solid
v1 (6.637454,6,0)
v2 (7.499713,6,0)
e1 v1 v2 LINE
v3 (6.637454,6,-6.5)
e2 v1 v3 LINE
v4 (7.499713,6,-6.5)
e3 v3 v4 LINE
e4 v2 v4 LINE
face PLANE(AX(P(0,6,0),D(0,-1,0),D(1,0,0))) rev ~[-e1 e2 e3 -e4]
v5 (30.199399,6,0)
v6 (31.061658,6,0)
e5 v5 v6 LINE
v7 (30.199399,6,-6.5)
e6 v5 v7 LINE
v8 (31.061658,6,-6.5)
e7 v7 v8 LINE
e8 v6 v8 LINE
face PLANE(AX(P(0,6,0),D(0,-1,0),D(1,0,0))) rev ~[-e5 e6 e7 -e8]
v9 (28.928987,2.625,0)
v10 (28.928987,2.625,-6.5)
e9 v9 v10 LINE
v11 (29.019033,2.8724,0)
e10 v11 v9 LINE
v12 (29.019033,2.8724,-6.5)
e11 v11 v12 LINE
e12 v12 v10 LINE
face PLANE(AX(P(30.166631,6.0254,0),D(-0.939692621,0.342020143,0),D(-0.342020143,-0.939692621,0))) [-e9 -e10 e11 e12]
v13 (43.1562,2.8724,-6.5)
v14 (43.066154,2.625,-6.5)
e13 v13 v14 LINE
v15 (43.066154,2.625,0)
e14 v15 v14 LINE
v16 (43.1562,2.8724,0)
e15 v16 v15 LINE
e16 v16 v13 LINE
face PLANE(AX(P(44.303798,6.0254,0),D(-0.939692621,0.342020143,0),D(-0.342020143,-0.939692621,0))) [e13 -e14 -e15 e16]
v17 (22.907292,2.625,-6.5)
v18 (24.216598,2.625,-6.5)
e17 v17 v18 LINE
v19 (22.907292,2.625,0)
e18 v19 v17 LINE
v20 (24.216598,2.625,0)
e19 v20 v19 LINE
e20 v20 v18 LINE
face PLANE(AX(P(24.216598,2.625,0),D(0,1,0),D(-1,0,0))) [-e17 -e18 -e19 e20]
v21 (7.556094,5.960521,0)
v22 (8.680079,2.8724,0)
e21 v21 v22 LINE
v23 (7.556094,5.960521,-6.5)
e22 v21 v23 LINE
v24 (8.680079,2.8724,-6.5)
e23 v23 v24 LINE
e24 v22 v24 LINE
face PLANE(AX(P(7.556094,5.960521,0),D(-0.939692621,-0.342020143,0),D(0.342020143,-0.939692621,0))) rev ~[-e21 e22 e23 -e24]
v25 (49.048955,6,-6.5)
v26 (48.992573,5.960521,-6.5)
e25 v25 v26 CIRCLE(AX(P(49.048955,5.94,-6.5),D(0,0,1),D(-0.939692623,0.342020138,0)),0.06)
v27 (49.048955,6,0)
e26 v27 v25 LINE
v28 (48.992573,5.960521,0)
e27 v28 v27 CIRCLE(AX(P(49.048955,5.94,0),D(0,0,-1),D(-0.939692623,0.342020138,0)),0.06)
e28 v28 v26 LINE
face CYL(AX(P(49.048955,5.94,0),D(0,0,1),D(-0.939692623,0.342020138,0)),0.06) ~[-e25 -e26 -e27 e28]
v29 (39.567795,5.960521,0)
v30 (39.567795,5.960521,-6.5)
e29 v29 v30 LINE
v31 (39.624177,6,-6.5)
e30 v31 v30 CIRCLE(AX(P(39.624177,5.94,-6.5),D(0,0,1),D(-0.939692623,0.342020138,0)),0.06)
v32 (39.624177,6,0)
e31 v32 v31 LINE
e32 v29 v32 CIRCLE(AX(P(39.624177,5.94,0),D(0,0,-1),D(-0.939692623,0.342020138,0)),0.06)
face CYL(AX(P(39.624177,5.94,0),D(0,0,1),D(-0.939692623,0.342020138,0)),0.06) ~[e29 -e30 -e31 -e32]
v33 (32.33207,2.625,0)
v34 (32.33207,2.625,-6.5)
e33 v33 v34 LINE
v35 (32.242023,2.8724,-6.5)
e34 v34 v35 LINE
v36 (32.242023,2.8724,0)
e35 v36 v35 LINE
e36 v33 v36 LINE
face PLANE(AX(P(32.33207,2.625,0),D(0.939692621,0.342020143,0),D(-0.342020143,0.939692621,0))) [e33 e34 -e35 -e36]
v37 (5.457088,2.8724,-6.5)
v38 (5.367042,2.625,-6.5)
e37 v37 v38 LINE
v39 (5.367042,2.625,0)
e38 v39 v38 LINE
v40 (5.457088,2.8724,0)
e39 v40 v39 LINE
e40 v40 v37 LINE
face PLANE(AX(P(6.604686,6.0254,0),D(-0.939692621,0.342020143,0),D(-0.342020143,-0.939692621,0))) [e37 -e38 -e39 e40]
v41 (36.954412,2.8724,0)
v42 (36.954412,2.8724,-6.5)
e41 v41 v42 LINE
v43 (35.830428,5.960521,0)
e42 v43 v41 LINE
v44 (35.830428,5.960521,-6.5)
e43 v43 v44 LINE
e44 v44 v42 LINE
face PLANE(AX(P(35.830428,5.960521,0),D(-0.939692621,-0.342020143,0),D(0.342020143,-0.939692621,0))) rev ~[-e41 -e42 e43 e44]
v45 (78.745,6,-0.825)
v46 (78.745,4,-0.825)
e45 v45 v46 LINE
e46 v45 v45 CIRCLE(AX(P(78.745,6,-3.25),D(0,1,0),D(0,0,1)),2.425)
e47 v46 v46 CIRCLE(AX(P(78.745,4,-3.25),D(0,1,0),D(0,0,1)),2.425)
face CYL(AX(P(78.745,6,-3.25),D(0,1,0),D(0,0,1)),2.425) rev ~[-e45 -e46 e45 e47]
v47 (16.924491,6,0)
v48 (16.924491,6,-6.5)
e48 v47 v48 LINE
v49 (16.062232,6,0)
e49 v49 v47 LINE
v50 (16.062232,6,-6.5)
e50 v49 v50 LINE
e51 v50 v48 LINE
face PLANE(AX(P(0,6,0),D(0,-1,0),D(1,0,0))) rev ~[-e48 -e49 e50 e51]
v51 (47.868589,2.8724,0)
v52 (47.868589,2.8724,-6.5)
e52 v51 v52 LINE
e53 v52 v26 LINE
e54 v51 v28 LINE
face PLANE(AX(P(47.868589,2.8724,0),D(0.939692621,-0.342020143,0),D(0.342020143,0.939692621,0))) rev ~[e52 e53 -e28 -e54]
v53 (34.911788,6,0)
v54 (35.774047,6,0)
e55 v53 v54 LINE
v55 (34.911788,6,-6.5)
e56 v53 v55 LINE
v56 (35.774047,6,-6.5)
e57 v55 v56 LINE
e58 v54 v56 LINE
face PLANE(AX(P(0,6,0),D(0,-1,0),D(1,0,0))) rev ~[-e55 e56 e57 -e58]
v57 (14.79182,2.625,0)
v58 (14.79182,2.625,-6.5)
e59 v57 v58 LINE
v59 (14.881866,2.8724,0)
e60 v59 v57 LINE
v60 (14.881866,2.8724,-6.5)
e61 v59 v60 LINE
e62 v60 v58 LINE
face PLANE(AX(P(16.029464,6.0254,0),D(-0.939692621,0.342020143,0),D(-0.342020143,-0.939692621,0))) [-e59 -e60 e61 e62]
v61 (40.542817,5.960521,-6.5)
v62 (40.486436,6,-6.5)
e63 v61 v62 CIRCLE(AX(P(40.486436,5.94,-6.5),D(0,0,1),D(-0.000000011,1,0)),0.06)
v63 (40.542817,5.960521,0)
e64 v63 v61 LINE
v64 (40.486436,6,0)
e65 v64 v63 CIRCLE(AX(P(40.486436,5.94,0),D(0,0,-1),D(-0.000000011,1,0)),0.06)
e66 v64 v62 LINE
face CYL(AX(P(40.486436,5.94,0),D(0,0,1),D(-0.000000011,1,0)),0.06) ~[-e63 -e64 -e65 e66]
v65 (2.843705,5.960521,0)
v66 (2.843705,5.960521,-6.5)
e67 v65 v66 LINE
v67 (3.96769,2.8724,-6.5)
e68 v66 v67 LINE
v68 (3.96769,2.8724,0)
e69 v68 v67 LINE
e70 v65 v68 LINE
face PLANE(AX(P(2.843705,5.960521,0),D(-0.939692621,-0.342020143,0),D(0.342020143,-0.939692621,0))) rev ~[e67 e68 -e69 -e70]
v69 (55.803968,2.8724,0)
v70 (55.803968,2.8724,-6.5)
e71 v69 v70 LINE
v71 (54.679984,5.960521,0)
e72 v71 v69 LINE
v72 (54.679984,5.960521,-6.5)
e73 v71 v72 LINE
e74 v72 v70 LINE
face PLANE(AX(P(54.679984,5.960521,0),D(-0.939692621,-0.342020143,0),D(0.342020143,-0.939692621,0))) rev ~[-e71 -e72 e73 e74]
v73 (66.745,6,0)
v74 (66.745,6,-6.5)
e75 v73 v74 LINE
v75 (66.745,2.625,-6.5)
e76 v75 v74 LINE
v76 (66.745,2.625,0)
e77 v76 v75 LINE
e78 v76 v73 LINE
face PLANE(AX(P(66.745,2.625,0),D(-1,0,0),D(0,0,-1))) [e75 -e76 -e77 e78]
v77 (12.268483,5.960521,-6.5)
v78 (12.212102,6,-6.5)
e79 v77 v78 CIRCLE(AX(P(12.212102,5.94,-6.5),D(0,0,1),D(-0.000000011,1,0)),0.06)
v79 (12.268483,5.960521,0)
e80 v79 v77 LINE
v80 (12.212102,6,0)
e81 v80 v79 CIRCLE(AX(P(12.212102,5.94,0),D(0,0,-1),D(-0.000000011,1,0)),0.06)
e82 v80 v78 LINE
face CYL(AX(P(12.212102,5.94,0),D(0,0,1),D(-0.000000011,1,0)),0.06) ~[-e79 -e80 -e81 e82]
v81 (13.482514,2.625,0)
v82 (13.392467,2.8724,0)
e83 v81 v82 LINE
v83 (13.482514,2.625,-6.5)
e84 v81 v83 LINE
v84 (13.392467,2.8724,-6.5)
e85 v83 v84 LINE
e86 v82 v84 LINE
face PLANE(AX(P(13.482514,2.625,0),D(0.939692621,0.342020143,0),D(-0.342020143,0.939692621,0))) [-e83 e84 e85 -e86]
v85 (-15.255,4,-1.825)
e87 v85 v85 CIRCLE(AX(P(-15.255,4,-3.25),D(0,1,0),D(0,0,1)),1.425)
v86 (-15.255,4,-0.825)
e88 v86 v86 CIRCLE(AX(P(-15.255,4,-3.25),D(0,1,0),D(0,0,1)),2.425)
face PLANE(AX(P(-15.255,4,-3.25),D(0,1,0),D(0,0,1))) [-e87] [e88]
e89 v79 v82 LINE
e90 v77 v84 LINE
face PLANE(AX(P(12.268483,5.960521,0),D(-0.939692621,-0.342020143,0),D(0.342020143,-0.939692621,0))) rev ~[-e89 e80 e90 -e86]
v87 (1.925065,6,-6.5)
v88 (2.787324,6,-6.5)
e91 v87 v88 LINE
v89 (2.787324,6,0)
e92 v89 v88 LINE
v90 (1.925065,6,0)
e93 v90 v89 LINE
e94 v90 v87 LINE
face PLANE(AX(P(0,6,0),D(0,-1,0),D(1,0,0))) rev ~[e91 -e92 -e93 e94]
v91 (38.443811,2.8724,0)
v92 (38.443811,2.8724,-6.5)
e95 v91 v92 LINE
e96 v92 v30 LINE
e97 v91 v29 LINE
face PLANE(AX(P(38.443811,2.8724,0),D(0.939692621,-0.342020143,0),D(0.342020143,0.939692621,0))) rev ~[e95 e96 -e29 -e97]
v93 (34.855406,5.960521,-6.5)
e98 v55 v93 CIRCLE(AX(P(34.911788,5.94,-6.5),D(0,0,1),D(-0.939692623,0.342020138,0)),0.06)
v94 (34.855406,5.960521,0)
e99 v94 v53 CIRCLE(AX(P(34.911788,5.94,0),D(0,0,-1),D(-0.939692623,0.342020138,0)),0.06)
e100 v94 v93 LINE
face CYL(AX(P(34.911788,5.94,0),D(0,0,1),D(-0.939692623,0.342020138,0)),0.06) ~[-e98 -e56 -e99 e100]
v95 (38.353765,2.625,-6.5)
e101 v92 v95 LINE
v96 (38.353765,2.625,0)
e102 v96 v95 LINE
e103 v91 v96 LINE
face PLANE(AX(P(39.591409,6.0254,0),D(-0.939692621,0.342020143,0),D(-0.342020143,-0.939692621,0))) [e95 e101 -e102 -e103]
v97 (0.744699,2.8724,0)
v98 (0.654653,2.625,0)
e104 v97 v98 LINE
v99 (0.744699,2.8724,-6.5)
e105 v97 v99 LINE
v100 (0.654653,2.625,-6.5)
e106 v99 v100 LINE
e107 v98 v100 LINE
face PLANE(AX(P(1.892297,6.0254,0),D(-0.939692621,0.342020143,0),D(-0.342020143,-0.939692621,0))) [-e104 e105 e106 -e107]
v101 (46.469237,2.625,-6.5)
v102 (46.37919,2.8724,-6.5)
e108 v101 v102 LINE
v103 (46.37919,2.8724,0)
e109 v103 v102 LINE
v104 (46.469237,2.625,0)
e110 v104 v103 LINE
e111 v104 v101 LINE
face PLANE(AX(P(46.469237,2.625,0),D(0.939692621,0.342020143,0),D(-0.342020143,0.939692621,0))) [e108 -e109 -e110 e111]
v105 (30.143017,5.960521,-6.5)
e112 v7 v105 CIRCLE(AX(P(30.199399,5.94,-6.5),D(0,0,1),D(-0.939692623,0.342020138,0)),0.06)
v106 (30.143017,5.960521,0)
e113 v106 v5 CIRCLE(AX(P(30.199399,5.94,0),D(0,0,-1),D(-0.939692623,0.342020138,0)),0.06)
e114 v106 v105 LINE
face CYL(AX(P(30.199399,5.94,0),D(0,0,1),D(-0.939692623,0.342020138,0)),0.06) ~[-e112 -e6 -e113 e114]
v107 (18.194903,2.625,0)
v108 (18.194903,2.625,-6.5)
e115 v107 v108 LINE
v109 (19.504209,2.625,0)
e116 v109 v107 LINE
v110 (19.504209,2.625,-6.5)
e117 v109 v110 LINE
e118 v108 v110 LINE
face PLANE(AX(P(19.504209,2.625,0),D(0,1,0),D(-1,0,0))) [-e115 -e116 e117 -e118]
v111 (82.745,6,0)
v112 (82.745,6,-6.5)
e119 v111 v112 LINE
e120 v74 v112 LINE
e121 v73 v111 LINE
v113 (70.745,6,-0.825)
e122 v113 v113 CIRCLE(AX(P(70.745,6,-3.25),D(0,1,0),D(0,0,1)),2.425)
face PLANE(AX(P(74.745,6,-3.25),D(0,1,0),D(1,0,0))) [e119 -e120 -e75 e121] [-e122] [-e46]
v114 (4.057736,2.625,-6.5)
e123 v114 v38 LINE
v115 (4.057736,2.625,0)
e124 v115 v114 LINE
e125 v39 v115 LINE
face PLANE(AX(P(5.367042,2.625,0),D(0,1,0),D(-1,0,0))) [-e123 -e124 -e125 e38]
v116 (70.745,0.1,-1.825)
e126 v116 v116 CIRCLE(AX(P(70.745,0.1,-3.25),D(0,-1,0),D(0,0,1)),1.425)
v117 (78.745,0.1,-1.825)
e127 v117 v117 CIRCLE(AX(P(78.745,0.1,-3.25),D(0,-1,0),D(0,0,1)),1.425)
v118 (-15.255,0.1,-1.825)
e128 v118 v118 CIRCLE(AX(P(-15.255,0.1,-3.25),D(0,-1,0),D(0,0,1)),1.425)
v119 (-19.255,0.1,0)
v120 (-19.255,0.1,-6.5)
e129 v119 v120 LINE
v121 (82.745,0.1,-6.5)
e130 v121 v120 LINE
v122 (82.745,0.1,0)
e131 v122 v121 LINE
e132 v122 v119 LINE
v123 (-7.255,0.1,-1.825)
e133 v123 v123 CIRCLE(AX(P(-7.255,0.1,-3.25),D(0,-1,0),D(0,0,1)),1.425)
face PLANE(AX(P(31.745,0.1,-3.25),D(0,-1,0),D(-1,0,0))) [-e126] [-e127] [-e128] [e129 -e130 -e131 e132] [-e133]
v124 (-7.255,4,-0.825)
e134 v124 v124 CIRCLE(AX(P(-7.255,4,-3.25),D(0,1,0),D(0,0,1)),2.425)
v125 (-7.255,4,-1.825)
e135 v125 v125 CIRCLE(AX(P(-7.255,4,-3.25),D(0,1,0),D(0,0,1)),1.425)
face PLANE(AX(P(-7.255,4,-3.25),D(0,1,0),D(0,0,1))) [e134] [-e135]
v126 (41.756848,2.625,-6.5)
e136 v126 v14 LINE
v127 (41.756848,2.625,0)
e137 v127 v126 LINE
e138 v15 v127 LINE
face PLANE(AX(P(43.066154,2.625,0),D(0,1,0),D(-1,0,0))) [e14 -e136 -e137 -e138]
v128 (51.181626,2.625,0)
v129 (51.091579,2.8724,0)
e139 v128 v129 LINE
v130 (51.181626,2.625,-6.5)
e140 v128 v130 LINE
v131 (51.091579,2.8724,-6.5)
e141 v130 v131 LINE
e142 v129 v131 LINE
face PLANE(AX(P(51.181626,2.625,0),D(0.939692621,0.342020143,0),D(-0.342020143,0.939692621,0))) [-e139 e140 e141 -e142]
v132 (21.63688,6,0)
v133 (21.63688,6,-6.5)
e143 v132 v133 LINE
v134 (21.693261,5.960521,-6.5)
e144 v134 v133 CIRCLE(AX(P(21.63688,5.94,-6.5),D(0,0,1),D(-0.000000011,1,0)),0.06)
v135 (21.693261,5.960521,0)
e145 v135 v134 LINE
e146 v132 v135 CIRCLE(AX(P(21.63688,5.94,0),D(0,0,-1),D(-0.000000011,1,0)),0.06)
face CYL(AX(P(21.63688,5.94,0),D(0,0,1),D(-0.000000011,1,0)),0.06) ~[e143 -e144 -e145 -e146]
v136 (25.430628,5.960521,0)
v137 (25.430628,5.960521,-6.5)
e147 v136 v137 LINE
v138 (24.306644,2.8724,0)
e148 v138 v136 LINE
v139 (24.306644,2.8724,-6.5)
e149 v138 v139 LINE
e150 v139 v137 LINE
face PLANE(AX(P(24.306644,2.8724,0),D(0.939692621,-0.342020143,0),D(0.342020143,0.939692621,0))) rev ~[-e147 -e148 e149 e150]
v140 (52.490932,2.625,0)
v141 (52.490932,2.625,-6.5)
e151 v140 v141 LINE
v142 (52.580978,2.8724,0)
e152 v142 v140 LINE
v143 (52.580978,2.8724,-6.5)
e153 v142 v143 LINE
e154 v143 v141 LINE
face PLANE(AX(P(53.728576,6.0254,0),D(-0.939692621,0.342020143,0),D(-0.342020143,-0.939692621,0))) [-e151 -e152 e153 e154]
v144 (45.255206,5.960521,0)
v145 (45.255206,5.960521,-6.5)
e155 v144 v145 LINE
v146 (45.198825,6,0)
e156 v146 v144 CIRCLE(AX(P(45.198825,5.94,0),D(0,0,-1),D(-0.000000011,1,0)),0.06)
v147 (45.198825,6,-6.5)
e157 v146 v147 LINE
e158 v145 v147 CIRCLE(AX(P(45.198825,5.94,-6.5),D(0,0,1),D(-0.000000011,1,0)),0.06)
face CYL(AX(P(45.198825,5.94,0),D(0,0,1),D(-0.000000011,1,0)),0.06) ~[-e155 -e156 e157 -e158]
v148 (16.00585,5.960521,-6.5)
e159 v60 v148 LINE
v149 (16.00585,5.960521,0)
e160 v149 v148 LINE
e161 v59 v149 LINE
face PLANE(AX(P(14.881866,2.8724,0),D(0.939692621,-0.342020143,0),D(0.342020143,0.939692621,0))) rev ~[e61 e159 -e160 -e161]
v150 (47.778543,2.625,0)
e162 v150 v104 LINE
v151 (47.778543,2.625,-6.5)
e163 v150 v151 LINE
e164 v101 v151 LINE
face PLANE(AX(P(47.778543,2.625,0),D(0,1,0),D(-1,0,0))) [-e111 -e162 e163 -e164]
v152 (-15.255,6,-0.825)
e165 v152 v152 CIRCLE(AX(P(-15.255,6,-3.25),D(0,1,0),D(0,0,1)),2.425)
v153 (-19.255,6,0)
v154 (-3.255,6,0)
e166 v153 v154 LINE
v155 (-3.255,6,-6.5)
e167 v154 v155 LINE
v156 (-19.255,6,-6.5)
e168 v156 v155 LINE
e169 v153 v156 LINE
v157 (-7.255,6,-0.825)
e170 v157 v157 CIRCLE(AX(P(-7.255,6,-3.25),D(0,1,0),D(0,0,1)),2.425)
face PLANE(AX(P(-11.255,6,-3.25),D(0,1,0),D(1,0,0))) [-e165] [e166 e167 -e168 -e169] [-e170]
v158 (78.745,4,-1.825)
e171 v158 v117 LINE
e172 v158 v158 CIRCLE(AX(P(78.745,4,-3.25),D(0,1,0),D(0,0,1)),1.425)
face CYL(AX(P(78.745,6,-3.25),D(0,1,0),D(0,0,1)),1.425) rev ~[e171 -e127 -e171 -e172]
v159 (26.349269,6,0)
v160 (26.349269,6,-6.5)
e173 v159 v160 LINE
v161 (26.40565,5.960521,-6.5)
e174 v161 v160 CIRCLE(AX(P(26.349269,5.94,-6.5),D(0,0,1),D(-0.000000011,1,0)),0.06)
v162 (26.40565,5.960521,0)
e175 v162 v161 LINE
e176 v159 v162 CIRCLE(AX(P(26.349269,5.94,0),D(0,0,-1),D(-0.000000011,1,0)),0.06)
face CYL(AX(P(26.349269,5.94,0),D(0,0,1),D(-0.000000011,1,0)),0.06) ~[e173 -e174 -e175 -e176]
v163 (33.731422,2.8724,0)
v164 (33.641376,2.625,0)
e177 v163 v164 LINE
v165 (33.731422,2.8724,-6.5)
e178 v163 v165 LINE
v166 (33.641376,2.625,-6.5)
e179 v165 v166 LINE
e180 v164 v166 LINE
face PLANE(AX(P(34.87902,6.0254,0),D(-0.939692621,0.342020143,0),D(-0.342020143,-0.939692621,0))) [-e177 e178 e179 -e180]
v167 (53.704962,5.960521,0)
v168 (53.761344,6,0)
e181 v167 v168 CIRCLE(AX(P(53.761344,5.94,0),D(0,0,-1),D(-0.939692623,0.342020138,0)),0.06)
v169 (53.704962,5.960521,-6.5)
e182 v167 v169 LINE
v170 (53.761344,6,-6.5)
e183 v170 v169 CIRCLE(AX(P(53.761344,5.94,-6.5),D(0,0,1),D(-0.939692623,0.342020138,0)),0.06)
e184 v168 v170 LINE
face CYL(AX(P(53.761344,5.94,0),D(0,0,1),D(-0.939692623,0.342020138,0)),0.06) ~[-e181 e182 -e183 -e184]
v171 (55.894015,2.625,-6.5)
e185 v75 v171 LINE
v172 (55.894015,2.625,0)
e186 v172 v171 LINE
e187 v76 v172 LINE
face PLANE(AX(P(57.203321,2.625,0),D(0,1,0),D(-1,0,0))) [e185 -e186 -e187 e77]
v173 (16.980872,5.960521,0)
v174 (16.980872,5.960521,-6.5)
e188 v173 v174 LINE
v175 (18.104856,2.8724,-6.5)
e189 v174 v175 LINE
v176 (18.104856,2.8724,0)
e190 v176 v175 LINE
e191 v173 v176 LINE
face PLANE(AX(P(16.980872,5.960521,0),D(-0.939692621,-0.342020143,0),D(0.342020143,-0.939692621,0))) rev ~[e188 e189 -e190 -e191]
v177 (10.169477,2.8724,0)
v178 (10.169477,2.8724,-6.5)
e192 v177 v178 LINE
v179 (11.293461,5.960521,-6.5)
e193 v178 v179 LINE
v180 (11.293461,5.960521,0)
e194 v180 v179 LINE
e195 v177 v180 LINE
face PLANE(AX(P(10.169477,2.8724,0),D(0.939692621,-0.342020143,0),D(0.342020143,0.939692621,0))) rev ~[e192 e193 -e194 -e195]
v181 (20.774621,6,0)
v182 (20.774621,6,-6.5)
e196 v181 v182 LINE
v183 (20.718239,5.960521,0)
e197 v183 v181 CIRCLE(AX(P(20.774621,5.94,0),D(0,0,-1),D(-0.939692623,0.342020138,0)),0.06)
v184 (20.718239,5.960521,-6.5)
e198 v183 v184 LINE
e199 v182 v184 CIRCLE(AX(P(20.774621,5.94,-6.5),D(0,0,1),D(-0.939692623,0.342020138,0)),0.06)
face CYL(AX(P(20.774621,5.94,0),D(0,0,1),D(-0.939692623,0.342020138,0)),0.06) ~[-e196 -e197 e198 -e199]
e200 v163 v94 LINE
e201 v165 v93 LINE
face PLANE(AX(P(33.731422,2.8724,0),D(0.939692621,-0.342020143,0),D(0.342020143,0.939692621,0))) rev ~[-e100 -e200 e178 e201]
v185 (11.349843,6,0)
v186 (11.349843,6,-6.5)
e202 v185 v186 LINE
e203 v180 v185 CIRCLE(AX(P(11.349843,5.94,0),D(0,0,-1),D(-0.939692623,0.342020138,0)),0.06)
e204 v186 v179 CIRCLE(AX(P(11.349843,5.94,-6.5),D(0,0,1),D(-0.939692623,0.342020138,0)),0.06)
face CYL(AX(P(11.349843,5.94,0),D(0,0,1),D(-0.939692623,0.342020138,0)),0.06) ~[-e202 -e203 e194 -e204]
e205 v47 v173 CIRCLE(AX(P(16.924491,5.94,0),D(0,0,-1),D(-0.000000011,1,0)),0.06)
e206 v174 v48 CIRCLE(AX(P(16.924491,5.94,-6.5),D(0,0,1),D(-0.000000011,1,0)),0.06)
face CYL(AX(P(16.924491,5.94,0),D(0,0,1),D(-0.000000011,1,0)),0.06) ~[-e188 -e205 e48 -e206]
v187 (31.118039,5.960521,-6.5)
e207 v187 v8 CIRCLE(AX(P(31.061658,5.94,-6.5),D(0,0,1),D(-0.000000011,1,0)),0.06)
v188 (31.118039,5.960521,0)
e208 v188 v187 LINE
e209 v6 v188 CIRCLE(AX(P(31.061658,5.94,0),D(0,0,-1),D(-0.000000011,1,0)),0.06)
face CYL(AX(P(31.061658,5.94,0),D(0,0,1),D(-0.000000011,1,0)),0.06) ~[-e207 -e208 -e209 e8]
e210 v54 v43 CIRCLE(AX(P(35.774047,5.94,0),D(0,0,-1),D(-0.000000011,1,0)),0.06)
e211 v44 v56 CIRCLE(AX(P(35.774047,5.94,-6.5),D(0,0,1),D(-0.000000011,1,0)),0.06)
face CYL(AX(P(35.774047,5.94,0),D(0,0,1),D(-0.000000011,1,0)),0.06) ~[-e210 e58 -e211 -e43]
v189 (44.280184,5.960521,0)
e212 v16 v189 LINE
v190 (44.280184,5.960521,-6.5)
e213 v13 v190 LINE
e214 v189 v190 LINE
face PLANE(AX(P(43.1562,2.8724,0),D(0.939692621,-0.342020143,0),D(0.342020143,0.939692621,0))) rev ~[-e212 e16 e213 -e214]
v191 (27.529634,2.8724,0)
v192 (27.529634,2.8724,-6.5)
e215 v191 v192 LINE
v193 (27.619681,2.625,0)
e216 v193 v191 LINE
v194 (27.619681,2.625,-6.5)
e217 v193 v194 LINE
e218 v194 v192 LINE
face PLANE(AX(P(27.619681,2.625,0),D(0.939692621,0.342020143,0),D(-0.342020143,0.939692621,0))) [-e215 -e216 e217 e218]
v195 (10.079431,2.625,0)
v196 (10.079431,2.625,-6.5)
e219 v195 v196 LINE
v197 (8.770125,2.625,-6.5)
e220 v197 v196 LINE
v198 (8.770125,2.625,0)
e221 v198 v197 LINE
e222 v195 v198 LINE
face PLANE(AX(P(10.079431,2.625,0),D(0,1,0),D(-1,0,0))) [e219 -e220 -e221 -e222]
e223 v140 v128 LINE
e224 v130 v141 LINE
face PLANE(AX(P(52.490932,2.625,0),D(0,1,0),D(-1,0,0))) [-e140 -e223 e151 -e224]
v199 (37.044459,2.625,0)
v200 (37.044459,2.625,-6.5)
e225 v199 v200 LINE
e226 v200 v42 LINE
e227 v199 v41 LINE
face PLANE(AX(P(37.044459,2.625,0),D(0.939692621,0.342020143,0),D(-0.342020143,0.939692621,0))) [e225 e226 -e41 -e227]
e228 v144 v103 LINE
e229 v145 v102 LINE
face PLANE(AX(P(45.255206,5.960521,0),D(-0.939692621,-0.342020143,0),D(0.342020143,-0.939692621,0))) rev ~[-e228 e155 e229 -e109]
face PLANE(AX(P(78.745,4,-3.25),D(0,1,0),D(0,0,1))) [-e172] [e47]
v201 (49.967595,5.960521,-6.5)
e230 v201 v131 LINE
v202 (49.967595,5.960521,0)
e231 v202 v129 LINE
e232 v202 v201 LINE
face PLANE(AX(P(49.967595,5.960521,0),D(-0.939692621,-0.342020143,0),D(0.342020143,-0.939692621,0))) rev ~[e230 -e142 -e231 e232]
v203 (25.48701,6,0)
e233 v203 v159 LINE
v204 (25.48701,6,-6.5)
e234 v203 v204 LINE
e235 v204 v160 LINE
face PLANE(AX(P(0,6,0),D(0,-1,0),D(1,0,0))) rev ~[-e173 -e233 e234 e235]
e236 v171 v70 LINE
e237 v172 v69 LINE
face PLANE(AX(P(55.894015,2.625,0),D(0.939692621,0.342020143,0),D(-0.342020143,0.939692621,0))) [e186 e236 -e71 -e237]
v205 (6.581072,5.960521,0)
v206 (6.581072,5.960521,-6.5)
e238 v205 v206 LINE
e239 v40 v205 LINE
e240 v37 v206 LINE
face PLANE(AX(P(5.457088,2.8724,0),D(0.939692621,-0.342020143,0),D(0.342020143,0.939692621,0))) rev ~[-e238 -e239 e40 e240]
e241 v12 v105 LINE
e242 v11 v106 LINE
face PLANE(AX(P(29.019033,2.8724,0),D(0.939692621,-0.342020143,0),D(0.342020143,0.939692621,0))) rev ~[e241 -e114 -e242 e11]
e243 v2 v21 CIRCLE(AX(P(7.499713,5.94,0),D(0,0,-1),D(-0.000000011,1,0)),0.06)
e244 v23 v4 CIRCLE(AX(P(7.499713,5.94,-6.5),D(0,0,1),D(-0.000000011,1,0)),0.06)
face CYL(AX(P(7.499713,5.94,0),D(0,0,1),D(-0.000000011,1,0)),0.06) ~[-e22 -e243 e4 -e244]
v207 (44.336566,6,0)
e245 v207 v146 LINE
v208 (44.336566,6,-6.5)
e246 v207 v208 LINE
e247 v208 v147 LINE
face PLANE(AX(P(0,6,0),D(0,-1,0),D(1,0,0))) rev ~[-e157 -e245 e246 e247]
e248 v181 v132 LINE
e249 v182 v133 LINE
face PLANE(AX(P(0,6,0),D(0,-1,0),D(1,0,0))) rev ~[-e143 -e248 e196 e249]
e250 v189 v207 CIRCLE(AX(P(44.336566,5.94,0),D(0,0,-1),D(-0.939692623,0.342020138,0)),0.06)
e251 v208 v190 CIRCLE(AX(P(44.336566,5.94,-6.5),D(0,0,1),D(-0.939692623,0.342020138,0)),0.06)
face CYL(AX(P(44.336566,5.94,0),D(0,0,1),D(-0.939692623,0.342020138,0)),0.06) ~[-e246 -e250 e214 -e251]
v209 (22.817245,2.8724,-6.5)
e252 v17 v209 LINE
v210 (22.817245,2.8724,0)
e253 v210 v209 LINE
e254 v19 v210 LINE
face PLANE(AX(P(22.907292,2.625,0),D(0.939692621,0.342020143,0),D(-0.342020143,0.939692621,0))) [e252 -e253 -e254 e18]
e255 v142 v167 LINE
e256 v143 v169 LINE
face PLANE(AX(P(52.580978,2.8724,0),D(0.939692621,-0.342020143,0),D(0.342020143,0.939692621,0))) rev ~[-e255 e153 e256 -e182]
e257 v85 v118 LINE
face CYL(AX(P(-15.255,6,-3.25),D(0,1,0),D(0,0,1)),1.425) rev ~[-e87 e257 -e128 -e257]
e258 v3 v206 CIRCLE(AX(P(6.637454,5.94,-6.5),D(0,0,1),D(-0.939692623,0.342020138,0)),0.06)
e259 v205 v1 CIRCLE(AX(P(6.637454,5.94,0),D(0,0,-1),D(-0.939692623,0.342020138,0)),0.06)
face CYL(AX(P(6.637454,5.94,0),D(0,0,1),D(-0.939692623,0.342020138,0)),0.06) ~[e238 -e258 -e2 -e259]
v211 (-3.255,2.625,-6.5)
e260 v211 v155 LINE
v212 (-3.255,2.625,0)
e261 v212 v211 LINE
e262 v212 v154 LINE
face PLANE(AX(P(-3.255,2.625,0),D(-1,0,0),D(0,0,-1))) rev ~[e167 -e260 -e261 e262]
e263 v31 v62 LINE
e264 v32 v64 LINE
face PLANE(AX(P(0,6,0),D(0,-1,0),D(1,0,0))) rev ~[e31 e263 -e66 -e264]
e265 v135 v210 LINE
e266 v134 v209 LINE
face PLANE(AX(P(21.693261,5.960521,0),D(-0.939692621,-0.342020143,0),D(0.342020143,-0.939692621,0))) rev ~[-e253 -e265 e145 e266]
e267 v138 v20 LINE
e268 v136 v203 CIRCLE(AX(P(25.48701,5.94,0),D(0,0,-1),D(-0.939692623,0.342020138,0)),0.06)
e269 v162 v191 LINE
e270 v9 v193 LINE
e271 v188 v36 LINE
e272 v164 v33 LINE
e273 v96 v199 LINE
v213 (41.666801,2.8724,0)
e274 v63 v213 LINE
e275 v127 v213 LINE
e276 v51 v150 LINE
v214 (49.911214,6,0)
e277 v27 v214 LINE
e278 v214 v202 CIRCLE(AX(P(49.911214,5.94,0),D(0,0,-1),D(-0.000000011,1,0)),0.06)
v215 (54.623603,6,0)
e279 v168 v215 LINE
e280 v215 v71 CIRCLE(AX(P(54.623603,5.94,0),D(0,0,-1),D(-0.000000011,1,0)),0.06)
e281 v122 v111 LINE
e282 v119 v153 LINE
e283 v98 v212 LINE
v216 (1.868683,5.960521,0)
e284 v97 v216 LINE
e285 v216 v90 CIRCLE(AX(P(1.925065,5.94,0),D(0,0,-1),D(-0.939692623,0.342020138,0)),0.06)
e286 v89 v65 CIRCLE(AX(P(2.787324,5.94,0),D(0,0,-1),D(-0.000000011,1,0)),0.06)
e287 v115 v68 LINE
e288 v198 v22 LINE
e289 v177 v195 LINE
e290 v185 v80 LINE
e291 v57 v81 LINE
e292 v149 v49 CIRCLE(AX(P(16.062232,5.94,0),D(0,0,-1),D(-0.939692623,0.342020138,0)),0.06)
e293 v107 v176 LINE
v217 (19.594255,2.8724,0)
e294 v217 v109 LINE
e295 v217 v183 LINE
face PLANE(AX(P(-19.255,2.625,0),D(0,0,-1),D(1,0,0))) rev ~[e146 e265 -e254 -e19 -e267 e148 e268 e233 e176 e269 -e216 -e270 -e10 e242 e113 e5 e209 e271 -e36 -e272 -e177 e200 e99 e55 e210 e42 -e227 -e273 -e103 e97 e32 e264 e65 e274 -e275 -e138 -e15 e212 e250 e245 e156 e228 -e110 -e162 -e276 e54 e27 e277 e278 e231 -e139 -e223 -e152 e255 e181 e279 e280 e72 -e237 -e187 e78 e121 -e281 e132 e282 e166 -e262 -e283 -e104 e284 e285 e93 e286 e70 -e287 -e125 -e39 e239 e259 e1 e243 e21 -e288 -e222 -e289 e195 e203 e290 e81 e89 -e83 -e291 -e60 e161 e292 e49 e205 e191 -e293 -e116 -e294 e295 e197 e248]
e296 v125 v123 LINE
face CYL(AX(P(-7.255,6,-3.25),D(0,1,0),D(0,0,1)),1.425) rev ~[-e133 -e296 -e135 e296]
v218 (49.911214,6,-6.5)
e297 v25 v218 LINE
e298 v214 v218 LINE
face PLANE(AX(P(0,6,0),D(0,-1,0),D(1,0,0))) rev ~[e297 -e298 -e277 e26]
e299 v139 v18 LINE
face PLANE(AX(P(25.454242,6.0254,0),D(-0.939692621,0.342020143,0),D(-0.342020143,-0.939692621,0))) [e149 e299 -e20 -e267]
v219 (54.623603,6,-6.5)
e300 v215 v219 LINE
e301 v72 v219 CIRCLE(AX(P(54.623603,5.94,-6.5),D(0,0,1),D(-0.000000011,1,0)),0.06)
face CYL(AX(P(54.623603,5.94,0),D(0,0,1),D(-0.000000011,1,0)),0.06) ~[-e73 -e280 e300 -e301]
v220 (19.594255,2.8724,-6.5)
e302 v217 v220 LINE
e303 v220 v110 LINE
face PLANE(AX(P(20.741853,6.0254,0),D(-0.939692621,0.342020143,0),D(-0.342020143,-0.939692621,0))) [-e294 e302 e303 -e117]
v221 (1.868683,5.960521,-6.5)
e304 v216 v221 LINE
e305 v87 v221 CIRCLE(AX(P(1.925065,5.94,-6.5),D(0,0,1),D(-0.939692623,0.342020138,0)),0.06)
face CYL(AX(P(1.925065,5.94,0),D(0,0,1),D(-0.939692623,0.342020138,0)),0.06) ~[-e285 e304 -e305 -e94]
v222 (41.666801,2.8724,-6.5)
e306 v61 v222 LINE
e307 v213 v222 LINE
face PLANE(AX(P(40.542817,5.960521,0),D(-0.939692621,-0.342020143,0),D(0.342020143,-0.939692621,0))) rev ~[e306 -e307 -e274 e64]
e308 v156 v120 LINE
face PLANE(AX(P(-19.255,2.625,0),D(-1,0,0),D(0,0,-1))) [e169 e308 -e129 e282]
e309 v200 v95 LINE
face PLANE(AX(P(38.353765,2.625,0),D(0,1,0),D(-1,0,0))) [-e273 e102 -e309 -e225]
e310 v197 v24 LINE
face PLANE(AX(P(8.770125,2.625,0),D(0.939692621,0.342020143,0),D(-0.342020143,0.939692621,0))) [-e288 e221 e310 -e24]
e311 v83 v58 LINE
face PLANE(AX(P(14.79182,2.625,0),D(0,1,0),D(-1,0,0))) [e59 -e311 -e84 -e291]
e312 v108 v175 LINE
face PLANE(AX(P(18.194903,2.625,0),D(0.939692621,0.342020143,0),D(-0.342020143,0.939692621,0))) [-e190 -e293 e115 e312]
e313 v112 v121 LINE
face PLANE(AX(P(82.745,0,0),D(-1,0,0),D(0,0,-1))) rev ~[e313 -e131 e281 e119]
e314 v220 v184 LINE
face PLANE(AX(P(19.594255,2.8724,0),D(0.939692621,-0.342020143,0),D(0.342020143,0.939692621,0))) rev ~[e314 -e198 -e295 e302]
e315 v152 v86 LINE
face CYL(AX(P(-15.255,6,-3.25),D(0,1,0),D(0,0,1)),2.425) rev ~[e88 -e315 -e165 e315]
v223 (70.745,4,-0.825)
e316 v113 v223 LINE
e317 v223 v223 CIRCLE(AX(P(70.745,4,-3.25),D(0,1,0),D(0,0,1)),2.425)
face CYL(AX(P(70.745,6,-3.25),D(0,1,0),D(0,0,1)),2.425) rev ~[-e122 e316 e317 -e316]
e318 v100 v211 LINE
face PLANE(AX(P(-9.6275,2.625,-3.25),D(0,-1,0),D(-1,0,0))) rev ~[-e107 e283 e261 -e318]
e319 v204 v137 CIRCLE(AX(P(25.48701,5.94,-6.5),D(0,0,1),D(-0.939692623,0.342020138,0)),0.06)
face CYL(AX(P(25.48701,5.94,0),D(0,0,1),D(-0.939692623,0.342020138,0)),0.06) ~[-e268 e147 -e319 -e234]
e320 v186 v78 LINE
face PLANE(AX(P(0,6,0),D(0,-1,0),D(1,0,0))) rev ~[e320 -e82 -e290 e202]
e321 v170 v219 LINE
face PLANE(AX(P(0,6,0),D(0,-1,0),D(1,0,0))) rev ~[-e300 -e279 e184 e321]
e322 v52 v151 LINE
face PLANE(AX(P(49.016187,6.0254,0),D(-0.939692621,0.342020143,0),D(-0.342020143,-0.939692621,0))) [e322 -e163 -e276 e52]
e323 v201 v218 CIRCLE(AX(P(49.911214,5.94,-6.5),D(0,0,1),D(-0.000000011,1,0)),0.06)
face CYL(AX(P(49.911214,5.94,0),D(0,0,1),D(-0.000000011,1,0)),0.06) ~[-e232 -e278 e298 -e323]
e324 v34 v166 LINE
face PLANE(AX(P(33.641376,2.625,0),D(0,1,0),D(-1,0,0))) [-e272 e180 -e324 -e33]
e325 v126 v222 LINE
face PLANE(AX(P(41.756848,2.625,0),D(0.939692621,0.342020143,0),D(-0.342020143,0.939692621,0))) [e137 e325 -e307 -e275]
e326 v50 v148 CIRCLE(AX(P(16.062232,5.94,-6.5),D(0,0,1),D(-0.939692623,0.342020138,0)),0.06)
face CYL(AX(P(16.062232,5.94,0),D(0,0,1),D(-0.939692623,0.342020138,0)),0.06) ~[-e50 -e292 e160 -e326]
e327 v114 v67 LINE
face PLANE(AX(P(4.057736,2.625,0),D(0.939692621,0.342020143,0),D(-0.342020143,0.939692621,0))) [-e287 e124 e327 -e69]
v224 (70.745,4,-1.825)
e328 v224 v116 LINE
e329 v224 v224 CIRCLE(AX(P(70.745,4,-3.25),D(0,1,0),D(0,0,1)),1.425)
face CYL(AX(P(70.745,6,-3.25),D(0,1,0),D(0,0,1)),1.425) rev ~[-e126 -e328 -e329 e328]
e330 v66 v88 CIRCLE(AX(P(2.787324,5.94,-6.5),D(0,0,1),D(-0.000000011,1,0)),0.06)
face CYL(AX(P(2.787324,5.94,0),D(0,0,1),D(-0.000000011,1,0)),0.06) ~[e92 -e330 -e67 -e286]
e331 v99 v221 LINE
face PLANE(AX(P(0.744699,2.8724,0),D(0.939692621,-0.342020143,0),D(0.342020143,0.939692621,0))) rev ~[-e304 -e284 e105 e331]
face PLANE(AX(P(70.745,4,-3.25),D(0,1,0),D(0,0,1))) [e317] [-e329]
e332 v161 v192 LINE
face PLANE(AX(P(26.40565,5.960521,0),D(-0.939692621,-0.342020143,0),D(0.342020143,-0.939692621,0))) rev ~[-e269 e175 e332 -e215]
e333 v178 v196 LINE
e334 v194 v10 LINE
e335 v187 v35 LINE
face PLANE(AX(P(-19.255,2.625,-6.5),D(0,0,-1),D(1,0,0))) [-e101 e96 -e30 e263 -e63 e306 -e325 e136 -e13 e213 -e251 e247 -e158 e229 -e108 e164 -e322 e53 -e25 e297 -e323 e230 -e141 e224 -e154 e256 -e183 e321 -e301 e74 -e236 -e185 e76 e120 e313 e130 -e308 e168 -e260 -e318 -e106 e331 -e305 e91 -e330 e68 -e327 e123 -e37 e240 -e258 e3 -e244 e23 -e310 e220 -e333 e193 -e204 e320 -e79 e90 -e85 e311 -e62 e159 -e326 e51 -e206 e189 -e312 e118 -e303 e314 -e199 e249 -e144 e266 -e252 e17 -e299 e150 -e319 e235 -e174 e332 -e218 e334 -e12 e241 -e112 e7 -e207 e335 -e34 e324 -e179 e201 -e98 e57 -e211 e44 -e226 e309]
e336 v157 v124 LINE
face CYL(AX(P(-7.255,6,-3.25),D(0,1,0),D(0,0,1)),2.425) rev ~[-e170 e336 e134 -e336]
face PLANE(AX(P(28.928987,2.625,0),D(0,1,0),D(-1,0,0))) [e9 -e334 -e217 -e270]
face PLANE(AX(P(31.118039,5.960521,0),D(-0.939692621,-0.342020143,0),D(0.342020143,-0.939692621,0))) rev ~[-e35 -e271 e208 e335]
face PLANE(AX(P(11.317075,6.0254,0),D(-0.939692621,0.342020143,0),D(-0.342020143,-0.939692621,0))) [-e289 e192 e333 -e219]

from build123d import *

# Parameters (mm, degrees)
BLANKSKE_W          = 56.5
BLANKSKE_H          = 6
BLANK_DEPTH         = 6.5
TOOTHCUTILL_DEPTH   = 58.188285514
TOOTHCUTSIM_DEPTH   = 58.188285514
TEETHCUTS_COUNT     = 13
TEETHCUTS_PITCH     = 4.712388975
SKETCH_4_W          = 19.255
SKETCH_4_H          = 6.5
SKETCH_4_W_2        = 26.245
EXTRUDE_1_DEPTH     = 2.625
SKETCH_5_W          = 16
SKETCH_5_H          = 6.5
EXTRUDE_2_DEPTH     = 3.375
SKETCH_8_R          = 1.425
CUT_EXTRUDE_1_DEPTH = 84.216494909
SKETCH_11_R         = 2.425
SKETCH_11_R_2       = 1.425
CUT_EXTRUDE_2_DEPTH = 2
CUT_EXTRUDE_START   = -0.1
SKETCH_14_W         = 102
SKETCH_14_H         = 6.5
SKETCH_14_R         = 1.425
CUT_EXTRUDE_3_DEPTH = 0.1


with BuildPart() as part:
    # BlankSke → Blank (new body)
    with BuildSketch(Plane.XY):
        with Locations((28.25, 3)):
            Rectangle(BLANKSKE_W, BLANKSKE_H)
    extrude(amount=-BLANK_DEPTH)

    # TooCutSkeIll → ToothCutIll (cut, through all)
    with BuildSketch(Plane.XY):
        with BuildLine():
            Line((-1.86868349, 5.960521209), (-0.744699446, 2.872400426))
            ThreePointArc((-0.744699446, 2.872400426), (-0.60703976, 2.692998831), (-0.39137502, 2.625))
            Line((-0.39137502, 2.625), (0.39137502, 2.625))
            ThreePointArc((0.39137502, 2.625), (0.60703976, 2.692998831), (0.744699446, 2.872400426))
            Line((0.744699446, 2.872400426), (1.86868349, 5.960521209))
            ThreePointArc((1.86868349, 5.960521209), (1.890650461, 5.989149123), (1.925065047, 6))
            Line((1.925065047, 6), (1.925065047, 6.0254))
            Line((1.925065047, 6.0254), (-1.925065047, 6.0254))
            Line((-1.925065047, 6.0254), (-1.925065047, 6))
            ThreePointArc((-1.925065047, 6), (-1.890650461, 5.989149123), (-1.86868349, 5.960521209))
        make_face()
    toothcutill = extrude(amount=-TOOTHCUTILL_DEPTH, mode=Mode.SUBTRACT)

    # TooCutSkeSim → ToothCutSim (cut, through all)
    with BuildSketch(Plane.XY):
        Polygon((0.654653055, 2.625), (-0.654653055, 2.625), (-1.892297439, 6.0254), (1.892297439, 6.0254), align=None)
    toothcutsim = extrude(amount=-TOOTHCUTSIM_DEPTH, mode=Mode.SUBTRACT)

    # TeethCuts: ToothCutIll, ToothCutSim ×13
    with Locations(*[(i * TEETHCUTS_PITCH, 0, 0) for i in range(1, TEETHCUTS_COUNT)]):
        add(toothcutill, mode=Mode.SUBTRACT)
        add(toothcutsim, mode=Mode.SUBTRACT)

    # 草图4 → 凸台-拉伸1 (add)
    with BuildSketch(Plane(origin=(0, 0, 0), x_dir=(-1, 0, 0), z_dir=(0, -1, 0))):
        with Locations((9.6275, 3.25)):
            Rectangle(SKETCH_4_W, SKETCH_4_H)
        with Locations((-69.6225, 3.25)):
            Rectangle(SKETCH_4_W_2, SKETCH_4_H)
    extrude(amount=-EXTRUDE_1_DEPTH)

    # 草图5 → 凸台-拉伸2 (add)
    with BuildSketch(Plane(origin=(0, 2.625, 0), x_dir=(1, 0, 0), z_dir=(0, 1, 0))):
        with Locations((-11.255, 3.25)):
            Rectangle(SKETCH_5_W, SKETCH_5_H)
        with Locations((74.745, 3.25)):
            Rectangle(SKETCH_5_W, SKETCH_5_H)
    extrude(amount=EXTRUDE_2_DEPTH)

    # 草图8 → 切除-拉伸1 (cut, through all)
    with BuildSketch(Plane(origin=(0, 6, 0), x_dir=(1, 0, 0), z_dir=(0, 1, 0))):
        with Locations(Location((-15.255, 3.25, 0), (0, 0, 270))):
            Circle(SKETCH_8_R)
        with Locations(Location((-7.255, 3.25, 0), (0, 0, 270))):
            Circle(SKETCH_8_R)
        with Locations(Location((78.745, 3.25, 0), (0, 0, 270))):
            Circle(SKETCH_8_R)
        with Locations(Location((70.745, 3.25, 0), (0, 0, 270))):
            Circle(SKETCH_8_R)
    extrude(amount=-CUT_EXTRUDE_1_DEPTH, mode=Mode.SUBTRACT)

    # 草图11 → 切除-拉伸2 (cut)
    # profile 1 of 4: a face of its own
    with BuildSketch(Plane(origin=(0, 6, 0), x_dir=(1, 0, 0), z_dir=(0, 1, 0))):
        with Locations(Location((70.745, 3.25, 0), (0, 0, 270))):
            Circle(SKETCH_11_R)
        with Locations(Location((70.745, 3.25, 0), (0, 0, 270))):
            Circle(SKETCH_11_R_2, mode=Mode.SUBTRACT)
    # profile 2 of 4: a face of its own
    with BuildSketch(Plane(origin=(0, 6, 0), x_dir=(1, 0, 0), z_dir=(0, 1, 0))):
        with Locations(Location((78.745, 3.25, 0), (0, 0, 270))):
            Circle(SKETCH_11_R)
        with Locations(Location((78.745, 3.25, 0), (0, 0, 270))):
            Circle(SKETCH_11_R_2, mode=Mode.SUBTRACT)
    # profile 3 of 4: a face of its own
    with BuildSketch(Plane(origin=(0, 6, 0), x_dir=(1, 0, 0), z_dir=(0, 1, 0))):
        with Locations(Location((-7.255, 3.25, 0), (0, 0, 270))):
            Circle(SKETCH_11_R)
        with Locations(Location((-7.255, 3.25, 0), (0, 0, 270))):
            Circle(SKETCH_11_R_2, mode=Mode.SUBTRACT)
    # profile 4 of 4: a face of its own
    with BuildSketch(Plane(origin=(0, 6, 0), x_dir=(1, 0, 0), z_dir=(0, 1, 0))):
        with Locations(Location((-15.255, 3.25, 0), (0, 0, 270))):
            Circle(SKETCH_11_R)
        with Locations(Location((-15.255, 3.25, 0), (0, 0, 270))):
            Circle(SKETCH_11_R_2, mode=Mode.SUBTRACT)
    extrude(amount=-CUT_EXTRUDE_2_DEPTH, mode=Mode.SUBTRACT)

    # 草图14 → 切除-拉伸3 (cut)
    with BuildSketch(Plane(origin=(0, 0, 0), x_dir=(-1, 0, 0), z_dir=(0, -1, 0)).offset(CUT_EXTRUDE_START)):
        with Locations((-31.745, 3.25)):
            Rectangle(SKETCH_14_W, SKETCH_14_H)
        with Locations(Location((15.255, 3.25, 0), (0, 0, 270))):
            Circle(SKETCH_14_R, mode=Mode.SUBTRACT)
        with Locations(Location((7.255, 3.25, 0), (0, 0, 270))):
            Circle(SKETCH_14_R, mode=Mode.SUBTRACT)
        with Locations(Location((-70.745, 3.25, 0), (0, 0, 270))):
            Circle(SKETCH_14_R, mode=Mode.SUBTRACT)
        with Locations(Location((-78.745, 3.25, 0), (0, 0, 270))):
            Circle(SKETCH_14_R, mode=Mode.SUBTRACT)
    extrude(amount=CUT_EXTRUDE_3_DEPTH, mode=Mode.SUBTRACT)


solid = part.part
